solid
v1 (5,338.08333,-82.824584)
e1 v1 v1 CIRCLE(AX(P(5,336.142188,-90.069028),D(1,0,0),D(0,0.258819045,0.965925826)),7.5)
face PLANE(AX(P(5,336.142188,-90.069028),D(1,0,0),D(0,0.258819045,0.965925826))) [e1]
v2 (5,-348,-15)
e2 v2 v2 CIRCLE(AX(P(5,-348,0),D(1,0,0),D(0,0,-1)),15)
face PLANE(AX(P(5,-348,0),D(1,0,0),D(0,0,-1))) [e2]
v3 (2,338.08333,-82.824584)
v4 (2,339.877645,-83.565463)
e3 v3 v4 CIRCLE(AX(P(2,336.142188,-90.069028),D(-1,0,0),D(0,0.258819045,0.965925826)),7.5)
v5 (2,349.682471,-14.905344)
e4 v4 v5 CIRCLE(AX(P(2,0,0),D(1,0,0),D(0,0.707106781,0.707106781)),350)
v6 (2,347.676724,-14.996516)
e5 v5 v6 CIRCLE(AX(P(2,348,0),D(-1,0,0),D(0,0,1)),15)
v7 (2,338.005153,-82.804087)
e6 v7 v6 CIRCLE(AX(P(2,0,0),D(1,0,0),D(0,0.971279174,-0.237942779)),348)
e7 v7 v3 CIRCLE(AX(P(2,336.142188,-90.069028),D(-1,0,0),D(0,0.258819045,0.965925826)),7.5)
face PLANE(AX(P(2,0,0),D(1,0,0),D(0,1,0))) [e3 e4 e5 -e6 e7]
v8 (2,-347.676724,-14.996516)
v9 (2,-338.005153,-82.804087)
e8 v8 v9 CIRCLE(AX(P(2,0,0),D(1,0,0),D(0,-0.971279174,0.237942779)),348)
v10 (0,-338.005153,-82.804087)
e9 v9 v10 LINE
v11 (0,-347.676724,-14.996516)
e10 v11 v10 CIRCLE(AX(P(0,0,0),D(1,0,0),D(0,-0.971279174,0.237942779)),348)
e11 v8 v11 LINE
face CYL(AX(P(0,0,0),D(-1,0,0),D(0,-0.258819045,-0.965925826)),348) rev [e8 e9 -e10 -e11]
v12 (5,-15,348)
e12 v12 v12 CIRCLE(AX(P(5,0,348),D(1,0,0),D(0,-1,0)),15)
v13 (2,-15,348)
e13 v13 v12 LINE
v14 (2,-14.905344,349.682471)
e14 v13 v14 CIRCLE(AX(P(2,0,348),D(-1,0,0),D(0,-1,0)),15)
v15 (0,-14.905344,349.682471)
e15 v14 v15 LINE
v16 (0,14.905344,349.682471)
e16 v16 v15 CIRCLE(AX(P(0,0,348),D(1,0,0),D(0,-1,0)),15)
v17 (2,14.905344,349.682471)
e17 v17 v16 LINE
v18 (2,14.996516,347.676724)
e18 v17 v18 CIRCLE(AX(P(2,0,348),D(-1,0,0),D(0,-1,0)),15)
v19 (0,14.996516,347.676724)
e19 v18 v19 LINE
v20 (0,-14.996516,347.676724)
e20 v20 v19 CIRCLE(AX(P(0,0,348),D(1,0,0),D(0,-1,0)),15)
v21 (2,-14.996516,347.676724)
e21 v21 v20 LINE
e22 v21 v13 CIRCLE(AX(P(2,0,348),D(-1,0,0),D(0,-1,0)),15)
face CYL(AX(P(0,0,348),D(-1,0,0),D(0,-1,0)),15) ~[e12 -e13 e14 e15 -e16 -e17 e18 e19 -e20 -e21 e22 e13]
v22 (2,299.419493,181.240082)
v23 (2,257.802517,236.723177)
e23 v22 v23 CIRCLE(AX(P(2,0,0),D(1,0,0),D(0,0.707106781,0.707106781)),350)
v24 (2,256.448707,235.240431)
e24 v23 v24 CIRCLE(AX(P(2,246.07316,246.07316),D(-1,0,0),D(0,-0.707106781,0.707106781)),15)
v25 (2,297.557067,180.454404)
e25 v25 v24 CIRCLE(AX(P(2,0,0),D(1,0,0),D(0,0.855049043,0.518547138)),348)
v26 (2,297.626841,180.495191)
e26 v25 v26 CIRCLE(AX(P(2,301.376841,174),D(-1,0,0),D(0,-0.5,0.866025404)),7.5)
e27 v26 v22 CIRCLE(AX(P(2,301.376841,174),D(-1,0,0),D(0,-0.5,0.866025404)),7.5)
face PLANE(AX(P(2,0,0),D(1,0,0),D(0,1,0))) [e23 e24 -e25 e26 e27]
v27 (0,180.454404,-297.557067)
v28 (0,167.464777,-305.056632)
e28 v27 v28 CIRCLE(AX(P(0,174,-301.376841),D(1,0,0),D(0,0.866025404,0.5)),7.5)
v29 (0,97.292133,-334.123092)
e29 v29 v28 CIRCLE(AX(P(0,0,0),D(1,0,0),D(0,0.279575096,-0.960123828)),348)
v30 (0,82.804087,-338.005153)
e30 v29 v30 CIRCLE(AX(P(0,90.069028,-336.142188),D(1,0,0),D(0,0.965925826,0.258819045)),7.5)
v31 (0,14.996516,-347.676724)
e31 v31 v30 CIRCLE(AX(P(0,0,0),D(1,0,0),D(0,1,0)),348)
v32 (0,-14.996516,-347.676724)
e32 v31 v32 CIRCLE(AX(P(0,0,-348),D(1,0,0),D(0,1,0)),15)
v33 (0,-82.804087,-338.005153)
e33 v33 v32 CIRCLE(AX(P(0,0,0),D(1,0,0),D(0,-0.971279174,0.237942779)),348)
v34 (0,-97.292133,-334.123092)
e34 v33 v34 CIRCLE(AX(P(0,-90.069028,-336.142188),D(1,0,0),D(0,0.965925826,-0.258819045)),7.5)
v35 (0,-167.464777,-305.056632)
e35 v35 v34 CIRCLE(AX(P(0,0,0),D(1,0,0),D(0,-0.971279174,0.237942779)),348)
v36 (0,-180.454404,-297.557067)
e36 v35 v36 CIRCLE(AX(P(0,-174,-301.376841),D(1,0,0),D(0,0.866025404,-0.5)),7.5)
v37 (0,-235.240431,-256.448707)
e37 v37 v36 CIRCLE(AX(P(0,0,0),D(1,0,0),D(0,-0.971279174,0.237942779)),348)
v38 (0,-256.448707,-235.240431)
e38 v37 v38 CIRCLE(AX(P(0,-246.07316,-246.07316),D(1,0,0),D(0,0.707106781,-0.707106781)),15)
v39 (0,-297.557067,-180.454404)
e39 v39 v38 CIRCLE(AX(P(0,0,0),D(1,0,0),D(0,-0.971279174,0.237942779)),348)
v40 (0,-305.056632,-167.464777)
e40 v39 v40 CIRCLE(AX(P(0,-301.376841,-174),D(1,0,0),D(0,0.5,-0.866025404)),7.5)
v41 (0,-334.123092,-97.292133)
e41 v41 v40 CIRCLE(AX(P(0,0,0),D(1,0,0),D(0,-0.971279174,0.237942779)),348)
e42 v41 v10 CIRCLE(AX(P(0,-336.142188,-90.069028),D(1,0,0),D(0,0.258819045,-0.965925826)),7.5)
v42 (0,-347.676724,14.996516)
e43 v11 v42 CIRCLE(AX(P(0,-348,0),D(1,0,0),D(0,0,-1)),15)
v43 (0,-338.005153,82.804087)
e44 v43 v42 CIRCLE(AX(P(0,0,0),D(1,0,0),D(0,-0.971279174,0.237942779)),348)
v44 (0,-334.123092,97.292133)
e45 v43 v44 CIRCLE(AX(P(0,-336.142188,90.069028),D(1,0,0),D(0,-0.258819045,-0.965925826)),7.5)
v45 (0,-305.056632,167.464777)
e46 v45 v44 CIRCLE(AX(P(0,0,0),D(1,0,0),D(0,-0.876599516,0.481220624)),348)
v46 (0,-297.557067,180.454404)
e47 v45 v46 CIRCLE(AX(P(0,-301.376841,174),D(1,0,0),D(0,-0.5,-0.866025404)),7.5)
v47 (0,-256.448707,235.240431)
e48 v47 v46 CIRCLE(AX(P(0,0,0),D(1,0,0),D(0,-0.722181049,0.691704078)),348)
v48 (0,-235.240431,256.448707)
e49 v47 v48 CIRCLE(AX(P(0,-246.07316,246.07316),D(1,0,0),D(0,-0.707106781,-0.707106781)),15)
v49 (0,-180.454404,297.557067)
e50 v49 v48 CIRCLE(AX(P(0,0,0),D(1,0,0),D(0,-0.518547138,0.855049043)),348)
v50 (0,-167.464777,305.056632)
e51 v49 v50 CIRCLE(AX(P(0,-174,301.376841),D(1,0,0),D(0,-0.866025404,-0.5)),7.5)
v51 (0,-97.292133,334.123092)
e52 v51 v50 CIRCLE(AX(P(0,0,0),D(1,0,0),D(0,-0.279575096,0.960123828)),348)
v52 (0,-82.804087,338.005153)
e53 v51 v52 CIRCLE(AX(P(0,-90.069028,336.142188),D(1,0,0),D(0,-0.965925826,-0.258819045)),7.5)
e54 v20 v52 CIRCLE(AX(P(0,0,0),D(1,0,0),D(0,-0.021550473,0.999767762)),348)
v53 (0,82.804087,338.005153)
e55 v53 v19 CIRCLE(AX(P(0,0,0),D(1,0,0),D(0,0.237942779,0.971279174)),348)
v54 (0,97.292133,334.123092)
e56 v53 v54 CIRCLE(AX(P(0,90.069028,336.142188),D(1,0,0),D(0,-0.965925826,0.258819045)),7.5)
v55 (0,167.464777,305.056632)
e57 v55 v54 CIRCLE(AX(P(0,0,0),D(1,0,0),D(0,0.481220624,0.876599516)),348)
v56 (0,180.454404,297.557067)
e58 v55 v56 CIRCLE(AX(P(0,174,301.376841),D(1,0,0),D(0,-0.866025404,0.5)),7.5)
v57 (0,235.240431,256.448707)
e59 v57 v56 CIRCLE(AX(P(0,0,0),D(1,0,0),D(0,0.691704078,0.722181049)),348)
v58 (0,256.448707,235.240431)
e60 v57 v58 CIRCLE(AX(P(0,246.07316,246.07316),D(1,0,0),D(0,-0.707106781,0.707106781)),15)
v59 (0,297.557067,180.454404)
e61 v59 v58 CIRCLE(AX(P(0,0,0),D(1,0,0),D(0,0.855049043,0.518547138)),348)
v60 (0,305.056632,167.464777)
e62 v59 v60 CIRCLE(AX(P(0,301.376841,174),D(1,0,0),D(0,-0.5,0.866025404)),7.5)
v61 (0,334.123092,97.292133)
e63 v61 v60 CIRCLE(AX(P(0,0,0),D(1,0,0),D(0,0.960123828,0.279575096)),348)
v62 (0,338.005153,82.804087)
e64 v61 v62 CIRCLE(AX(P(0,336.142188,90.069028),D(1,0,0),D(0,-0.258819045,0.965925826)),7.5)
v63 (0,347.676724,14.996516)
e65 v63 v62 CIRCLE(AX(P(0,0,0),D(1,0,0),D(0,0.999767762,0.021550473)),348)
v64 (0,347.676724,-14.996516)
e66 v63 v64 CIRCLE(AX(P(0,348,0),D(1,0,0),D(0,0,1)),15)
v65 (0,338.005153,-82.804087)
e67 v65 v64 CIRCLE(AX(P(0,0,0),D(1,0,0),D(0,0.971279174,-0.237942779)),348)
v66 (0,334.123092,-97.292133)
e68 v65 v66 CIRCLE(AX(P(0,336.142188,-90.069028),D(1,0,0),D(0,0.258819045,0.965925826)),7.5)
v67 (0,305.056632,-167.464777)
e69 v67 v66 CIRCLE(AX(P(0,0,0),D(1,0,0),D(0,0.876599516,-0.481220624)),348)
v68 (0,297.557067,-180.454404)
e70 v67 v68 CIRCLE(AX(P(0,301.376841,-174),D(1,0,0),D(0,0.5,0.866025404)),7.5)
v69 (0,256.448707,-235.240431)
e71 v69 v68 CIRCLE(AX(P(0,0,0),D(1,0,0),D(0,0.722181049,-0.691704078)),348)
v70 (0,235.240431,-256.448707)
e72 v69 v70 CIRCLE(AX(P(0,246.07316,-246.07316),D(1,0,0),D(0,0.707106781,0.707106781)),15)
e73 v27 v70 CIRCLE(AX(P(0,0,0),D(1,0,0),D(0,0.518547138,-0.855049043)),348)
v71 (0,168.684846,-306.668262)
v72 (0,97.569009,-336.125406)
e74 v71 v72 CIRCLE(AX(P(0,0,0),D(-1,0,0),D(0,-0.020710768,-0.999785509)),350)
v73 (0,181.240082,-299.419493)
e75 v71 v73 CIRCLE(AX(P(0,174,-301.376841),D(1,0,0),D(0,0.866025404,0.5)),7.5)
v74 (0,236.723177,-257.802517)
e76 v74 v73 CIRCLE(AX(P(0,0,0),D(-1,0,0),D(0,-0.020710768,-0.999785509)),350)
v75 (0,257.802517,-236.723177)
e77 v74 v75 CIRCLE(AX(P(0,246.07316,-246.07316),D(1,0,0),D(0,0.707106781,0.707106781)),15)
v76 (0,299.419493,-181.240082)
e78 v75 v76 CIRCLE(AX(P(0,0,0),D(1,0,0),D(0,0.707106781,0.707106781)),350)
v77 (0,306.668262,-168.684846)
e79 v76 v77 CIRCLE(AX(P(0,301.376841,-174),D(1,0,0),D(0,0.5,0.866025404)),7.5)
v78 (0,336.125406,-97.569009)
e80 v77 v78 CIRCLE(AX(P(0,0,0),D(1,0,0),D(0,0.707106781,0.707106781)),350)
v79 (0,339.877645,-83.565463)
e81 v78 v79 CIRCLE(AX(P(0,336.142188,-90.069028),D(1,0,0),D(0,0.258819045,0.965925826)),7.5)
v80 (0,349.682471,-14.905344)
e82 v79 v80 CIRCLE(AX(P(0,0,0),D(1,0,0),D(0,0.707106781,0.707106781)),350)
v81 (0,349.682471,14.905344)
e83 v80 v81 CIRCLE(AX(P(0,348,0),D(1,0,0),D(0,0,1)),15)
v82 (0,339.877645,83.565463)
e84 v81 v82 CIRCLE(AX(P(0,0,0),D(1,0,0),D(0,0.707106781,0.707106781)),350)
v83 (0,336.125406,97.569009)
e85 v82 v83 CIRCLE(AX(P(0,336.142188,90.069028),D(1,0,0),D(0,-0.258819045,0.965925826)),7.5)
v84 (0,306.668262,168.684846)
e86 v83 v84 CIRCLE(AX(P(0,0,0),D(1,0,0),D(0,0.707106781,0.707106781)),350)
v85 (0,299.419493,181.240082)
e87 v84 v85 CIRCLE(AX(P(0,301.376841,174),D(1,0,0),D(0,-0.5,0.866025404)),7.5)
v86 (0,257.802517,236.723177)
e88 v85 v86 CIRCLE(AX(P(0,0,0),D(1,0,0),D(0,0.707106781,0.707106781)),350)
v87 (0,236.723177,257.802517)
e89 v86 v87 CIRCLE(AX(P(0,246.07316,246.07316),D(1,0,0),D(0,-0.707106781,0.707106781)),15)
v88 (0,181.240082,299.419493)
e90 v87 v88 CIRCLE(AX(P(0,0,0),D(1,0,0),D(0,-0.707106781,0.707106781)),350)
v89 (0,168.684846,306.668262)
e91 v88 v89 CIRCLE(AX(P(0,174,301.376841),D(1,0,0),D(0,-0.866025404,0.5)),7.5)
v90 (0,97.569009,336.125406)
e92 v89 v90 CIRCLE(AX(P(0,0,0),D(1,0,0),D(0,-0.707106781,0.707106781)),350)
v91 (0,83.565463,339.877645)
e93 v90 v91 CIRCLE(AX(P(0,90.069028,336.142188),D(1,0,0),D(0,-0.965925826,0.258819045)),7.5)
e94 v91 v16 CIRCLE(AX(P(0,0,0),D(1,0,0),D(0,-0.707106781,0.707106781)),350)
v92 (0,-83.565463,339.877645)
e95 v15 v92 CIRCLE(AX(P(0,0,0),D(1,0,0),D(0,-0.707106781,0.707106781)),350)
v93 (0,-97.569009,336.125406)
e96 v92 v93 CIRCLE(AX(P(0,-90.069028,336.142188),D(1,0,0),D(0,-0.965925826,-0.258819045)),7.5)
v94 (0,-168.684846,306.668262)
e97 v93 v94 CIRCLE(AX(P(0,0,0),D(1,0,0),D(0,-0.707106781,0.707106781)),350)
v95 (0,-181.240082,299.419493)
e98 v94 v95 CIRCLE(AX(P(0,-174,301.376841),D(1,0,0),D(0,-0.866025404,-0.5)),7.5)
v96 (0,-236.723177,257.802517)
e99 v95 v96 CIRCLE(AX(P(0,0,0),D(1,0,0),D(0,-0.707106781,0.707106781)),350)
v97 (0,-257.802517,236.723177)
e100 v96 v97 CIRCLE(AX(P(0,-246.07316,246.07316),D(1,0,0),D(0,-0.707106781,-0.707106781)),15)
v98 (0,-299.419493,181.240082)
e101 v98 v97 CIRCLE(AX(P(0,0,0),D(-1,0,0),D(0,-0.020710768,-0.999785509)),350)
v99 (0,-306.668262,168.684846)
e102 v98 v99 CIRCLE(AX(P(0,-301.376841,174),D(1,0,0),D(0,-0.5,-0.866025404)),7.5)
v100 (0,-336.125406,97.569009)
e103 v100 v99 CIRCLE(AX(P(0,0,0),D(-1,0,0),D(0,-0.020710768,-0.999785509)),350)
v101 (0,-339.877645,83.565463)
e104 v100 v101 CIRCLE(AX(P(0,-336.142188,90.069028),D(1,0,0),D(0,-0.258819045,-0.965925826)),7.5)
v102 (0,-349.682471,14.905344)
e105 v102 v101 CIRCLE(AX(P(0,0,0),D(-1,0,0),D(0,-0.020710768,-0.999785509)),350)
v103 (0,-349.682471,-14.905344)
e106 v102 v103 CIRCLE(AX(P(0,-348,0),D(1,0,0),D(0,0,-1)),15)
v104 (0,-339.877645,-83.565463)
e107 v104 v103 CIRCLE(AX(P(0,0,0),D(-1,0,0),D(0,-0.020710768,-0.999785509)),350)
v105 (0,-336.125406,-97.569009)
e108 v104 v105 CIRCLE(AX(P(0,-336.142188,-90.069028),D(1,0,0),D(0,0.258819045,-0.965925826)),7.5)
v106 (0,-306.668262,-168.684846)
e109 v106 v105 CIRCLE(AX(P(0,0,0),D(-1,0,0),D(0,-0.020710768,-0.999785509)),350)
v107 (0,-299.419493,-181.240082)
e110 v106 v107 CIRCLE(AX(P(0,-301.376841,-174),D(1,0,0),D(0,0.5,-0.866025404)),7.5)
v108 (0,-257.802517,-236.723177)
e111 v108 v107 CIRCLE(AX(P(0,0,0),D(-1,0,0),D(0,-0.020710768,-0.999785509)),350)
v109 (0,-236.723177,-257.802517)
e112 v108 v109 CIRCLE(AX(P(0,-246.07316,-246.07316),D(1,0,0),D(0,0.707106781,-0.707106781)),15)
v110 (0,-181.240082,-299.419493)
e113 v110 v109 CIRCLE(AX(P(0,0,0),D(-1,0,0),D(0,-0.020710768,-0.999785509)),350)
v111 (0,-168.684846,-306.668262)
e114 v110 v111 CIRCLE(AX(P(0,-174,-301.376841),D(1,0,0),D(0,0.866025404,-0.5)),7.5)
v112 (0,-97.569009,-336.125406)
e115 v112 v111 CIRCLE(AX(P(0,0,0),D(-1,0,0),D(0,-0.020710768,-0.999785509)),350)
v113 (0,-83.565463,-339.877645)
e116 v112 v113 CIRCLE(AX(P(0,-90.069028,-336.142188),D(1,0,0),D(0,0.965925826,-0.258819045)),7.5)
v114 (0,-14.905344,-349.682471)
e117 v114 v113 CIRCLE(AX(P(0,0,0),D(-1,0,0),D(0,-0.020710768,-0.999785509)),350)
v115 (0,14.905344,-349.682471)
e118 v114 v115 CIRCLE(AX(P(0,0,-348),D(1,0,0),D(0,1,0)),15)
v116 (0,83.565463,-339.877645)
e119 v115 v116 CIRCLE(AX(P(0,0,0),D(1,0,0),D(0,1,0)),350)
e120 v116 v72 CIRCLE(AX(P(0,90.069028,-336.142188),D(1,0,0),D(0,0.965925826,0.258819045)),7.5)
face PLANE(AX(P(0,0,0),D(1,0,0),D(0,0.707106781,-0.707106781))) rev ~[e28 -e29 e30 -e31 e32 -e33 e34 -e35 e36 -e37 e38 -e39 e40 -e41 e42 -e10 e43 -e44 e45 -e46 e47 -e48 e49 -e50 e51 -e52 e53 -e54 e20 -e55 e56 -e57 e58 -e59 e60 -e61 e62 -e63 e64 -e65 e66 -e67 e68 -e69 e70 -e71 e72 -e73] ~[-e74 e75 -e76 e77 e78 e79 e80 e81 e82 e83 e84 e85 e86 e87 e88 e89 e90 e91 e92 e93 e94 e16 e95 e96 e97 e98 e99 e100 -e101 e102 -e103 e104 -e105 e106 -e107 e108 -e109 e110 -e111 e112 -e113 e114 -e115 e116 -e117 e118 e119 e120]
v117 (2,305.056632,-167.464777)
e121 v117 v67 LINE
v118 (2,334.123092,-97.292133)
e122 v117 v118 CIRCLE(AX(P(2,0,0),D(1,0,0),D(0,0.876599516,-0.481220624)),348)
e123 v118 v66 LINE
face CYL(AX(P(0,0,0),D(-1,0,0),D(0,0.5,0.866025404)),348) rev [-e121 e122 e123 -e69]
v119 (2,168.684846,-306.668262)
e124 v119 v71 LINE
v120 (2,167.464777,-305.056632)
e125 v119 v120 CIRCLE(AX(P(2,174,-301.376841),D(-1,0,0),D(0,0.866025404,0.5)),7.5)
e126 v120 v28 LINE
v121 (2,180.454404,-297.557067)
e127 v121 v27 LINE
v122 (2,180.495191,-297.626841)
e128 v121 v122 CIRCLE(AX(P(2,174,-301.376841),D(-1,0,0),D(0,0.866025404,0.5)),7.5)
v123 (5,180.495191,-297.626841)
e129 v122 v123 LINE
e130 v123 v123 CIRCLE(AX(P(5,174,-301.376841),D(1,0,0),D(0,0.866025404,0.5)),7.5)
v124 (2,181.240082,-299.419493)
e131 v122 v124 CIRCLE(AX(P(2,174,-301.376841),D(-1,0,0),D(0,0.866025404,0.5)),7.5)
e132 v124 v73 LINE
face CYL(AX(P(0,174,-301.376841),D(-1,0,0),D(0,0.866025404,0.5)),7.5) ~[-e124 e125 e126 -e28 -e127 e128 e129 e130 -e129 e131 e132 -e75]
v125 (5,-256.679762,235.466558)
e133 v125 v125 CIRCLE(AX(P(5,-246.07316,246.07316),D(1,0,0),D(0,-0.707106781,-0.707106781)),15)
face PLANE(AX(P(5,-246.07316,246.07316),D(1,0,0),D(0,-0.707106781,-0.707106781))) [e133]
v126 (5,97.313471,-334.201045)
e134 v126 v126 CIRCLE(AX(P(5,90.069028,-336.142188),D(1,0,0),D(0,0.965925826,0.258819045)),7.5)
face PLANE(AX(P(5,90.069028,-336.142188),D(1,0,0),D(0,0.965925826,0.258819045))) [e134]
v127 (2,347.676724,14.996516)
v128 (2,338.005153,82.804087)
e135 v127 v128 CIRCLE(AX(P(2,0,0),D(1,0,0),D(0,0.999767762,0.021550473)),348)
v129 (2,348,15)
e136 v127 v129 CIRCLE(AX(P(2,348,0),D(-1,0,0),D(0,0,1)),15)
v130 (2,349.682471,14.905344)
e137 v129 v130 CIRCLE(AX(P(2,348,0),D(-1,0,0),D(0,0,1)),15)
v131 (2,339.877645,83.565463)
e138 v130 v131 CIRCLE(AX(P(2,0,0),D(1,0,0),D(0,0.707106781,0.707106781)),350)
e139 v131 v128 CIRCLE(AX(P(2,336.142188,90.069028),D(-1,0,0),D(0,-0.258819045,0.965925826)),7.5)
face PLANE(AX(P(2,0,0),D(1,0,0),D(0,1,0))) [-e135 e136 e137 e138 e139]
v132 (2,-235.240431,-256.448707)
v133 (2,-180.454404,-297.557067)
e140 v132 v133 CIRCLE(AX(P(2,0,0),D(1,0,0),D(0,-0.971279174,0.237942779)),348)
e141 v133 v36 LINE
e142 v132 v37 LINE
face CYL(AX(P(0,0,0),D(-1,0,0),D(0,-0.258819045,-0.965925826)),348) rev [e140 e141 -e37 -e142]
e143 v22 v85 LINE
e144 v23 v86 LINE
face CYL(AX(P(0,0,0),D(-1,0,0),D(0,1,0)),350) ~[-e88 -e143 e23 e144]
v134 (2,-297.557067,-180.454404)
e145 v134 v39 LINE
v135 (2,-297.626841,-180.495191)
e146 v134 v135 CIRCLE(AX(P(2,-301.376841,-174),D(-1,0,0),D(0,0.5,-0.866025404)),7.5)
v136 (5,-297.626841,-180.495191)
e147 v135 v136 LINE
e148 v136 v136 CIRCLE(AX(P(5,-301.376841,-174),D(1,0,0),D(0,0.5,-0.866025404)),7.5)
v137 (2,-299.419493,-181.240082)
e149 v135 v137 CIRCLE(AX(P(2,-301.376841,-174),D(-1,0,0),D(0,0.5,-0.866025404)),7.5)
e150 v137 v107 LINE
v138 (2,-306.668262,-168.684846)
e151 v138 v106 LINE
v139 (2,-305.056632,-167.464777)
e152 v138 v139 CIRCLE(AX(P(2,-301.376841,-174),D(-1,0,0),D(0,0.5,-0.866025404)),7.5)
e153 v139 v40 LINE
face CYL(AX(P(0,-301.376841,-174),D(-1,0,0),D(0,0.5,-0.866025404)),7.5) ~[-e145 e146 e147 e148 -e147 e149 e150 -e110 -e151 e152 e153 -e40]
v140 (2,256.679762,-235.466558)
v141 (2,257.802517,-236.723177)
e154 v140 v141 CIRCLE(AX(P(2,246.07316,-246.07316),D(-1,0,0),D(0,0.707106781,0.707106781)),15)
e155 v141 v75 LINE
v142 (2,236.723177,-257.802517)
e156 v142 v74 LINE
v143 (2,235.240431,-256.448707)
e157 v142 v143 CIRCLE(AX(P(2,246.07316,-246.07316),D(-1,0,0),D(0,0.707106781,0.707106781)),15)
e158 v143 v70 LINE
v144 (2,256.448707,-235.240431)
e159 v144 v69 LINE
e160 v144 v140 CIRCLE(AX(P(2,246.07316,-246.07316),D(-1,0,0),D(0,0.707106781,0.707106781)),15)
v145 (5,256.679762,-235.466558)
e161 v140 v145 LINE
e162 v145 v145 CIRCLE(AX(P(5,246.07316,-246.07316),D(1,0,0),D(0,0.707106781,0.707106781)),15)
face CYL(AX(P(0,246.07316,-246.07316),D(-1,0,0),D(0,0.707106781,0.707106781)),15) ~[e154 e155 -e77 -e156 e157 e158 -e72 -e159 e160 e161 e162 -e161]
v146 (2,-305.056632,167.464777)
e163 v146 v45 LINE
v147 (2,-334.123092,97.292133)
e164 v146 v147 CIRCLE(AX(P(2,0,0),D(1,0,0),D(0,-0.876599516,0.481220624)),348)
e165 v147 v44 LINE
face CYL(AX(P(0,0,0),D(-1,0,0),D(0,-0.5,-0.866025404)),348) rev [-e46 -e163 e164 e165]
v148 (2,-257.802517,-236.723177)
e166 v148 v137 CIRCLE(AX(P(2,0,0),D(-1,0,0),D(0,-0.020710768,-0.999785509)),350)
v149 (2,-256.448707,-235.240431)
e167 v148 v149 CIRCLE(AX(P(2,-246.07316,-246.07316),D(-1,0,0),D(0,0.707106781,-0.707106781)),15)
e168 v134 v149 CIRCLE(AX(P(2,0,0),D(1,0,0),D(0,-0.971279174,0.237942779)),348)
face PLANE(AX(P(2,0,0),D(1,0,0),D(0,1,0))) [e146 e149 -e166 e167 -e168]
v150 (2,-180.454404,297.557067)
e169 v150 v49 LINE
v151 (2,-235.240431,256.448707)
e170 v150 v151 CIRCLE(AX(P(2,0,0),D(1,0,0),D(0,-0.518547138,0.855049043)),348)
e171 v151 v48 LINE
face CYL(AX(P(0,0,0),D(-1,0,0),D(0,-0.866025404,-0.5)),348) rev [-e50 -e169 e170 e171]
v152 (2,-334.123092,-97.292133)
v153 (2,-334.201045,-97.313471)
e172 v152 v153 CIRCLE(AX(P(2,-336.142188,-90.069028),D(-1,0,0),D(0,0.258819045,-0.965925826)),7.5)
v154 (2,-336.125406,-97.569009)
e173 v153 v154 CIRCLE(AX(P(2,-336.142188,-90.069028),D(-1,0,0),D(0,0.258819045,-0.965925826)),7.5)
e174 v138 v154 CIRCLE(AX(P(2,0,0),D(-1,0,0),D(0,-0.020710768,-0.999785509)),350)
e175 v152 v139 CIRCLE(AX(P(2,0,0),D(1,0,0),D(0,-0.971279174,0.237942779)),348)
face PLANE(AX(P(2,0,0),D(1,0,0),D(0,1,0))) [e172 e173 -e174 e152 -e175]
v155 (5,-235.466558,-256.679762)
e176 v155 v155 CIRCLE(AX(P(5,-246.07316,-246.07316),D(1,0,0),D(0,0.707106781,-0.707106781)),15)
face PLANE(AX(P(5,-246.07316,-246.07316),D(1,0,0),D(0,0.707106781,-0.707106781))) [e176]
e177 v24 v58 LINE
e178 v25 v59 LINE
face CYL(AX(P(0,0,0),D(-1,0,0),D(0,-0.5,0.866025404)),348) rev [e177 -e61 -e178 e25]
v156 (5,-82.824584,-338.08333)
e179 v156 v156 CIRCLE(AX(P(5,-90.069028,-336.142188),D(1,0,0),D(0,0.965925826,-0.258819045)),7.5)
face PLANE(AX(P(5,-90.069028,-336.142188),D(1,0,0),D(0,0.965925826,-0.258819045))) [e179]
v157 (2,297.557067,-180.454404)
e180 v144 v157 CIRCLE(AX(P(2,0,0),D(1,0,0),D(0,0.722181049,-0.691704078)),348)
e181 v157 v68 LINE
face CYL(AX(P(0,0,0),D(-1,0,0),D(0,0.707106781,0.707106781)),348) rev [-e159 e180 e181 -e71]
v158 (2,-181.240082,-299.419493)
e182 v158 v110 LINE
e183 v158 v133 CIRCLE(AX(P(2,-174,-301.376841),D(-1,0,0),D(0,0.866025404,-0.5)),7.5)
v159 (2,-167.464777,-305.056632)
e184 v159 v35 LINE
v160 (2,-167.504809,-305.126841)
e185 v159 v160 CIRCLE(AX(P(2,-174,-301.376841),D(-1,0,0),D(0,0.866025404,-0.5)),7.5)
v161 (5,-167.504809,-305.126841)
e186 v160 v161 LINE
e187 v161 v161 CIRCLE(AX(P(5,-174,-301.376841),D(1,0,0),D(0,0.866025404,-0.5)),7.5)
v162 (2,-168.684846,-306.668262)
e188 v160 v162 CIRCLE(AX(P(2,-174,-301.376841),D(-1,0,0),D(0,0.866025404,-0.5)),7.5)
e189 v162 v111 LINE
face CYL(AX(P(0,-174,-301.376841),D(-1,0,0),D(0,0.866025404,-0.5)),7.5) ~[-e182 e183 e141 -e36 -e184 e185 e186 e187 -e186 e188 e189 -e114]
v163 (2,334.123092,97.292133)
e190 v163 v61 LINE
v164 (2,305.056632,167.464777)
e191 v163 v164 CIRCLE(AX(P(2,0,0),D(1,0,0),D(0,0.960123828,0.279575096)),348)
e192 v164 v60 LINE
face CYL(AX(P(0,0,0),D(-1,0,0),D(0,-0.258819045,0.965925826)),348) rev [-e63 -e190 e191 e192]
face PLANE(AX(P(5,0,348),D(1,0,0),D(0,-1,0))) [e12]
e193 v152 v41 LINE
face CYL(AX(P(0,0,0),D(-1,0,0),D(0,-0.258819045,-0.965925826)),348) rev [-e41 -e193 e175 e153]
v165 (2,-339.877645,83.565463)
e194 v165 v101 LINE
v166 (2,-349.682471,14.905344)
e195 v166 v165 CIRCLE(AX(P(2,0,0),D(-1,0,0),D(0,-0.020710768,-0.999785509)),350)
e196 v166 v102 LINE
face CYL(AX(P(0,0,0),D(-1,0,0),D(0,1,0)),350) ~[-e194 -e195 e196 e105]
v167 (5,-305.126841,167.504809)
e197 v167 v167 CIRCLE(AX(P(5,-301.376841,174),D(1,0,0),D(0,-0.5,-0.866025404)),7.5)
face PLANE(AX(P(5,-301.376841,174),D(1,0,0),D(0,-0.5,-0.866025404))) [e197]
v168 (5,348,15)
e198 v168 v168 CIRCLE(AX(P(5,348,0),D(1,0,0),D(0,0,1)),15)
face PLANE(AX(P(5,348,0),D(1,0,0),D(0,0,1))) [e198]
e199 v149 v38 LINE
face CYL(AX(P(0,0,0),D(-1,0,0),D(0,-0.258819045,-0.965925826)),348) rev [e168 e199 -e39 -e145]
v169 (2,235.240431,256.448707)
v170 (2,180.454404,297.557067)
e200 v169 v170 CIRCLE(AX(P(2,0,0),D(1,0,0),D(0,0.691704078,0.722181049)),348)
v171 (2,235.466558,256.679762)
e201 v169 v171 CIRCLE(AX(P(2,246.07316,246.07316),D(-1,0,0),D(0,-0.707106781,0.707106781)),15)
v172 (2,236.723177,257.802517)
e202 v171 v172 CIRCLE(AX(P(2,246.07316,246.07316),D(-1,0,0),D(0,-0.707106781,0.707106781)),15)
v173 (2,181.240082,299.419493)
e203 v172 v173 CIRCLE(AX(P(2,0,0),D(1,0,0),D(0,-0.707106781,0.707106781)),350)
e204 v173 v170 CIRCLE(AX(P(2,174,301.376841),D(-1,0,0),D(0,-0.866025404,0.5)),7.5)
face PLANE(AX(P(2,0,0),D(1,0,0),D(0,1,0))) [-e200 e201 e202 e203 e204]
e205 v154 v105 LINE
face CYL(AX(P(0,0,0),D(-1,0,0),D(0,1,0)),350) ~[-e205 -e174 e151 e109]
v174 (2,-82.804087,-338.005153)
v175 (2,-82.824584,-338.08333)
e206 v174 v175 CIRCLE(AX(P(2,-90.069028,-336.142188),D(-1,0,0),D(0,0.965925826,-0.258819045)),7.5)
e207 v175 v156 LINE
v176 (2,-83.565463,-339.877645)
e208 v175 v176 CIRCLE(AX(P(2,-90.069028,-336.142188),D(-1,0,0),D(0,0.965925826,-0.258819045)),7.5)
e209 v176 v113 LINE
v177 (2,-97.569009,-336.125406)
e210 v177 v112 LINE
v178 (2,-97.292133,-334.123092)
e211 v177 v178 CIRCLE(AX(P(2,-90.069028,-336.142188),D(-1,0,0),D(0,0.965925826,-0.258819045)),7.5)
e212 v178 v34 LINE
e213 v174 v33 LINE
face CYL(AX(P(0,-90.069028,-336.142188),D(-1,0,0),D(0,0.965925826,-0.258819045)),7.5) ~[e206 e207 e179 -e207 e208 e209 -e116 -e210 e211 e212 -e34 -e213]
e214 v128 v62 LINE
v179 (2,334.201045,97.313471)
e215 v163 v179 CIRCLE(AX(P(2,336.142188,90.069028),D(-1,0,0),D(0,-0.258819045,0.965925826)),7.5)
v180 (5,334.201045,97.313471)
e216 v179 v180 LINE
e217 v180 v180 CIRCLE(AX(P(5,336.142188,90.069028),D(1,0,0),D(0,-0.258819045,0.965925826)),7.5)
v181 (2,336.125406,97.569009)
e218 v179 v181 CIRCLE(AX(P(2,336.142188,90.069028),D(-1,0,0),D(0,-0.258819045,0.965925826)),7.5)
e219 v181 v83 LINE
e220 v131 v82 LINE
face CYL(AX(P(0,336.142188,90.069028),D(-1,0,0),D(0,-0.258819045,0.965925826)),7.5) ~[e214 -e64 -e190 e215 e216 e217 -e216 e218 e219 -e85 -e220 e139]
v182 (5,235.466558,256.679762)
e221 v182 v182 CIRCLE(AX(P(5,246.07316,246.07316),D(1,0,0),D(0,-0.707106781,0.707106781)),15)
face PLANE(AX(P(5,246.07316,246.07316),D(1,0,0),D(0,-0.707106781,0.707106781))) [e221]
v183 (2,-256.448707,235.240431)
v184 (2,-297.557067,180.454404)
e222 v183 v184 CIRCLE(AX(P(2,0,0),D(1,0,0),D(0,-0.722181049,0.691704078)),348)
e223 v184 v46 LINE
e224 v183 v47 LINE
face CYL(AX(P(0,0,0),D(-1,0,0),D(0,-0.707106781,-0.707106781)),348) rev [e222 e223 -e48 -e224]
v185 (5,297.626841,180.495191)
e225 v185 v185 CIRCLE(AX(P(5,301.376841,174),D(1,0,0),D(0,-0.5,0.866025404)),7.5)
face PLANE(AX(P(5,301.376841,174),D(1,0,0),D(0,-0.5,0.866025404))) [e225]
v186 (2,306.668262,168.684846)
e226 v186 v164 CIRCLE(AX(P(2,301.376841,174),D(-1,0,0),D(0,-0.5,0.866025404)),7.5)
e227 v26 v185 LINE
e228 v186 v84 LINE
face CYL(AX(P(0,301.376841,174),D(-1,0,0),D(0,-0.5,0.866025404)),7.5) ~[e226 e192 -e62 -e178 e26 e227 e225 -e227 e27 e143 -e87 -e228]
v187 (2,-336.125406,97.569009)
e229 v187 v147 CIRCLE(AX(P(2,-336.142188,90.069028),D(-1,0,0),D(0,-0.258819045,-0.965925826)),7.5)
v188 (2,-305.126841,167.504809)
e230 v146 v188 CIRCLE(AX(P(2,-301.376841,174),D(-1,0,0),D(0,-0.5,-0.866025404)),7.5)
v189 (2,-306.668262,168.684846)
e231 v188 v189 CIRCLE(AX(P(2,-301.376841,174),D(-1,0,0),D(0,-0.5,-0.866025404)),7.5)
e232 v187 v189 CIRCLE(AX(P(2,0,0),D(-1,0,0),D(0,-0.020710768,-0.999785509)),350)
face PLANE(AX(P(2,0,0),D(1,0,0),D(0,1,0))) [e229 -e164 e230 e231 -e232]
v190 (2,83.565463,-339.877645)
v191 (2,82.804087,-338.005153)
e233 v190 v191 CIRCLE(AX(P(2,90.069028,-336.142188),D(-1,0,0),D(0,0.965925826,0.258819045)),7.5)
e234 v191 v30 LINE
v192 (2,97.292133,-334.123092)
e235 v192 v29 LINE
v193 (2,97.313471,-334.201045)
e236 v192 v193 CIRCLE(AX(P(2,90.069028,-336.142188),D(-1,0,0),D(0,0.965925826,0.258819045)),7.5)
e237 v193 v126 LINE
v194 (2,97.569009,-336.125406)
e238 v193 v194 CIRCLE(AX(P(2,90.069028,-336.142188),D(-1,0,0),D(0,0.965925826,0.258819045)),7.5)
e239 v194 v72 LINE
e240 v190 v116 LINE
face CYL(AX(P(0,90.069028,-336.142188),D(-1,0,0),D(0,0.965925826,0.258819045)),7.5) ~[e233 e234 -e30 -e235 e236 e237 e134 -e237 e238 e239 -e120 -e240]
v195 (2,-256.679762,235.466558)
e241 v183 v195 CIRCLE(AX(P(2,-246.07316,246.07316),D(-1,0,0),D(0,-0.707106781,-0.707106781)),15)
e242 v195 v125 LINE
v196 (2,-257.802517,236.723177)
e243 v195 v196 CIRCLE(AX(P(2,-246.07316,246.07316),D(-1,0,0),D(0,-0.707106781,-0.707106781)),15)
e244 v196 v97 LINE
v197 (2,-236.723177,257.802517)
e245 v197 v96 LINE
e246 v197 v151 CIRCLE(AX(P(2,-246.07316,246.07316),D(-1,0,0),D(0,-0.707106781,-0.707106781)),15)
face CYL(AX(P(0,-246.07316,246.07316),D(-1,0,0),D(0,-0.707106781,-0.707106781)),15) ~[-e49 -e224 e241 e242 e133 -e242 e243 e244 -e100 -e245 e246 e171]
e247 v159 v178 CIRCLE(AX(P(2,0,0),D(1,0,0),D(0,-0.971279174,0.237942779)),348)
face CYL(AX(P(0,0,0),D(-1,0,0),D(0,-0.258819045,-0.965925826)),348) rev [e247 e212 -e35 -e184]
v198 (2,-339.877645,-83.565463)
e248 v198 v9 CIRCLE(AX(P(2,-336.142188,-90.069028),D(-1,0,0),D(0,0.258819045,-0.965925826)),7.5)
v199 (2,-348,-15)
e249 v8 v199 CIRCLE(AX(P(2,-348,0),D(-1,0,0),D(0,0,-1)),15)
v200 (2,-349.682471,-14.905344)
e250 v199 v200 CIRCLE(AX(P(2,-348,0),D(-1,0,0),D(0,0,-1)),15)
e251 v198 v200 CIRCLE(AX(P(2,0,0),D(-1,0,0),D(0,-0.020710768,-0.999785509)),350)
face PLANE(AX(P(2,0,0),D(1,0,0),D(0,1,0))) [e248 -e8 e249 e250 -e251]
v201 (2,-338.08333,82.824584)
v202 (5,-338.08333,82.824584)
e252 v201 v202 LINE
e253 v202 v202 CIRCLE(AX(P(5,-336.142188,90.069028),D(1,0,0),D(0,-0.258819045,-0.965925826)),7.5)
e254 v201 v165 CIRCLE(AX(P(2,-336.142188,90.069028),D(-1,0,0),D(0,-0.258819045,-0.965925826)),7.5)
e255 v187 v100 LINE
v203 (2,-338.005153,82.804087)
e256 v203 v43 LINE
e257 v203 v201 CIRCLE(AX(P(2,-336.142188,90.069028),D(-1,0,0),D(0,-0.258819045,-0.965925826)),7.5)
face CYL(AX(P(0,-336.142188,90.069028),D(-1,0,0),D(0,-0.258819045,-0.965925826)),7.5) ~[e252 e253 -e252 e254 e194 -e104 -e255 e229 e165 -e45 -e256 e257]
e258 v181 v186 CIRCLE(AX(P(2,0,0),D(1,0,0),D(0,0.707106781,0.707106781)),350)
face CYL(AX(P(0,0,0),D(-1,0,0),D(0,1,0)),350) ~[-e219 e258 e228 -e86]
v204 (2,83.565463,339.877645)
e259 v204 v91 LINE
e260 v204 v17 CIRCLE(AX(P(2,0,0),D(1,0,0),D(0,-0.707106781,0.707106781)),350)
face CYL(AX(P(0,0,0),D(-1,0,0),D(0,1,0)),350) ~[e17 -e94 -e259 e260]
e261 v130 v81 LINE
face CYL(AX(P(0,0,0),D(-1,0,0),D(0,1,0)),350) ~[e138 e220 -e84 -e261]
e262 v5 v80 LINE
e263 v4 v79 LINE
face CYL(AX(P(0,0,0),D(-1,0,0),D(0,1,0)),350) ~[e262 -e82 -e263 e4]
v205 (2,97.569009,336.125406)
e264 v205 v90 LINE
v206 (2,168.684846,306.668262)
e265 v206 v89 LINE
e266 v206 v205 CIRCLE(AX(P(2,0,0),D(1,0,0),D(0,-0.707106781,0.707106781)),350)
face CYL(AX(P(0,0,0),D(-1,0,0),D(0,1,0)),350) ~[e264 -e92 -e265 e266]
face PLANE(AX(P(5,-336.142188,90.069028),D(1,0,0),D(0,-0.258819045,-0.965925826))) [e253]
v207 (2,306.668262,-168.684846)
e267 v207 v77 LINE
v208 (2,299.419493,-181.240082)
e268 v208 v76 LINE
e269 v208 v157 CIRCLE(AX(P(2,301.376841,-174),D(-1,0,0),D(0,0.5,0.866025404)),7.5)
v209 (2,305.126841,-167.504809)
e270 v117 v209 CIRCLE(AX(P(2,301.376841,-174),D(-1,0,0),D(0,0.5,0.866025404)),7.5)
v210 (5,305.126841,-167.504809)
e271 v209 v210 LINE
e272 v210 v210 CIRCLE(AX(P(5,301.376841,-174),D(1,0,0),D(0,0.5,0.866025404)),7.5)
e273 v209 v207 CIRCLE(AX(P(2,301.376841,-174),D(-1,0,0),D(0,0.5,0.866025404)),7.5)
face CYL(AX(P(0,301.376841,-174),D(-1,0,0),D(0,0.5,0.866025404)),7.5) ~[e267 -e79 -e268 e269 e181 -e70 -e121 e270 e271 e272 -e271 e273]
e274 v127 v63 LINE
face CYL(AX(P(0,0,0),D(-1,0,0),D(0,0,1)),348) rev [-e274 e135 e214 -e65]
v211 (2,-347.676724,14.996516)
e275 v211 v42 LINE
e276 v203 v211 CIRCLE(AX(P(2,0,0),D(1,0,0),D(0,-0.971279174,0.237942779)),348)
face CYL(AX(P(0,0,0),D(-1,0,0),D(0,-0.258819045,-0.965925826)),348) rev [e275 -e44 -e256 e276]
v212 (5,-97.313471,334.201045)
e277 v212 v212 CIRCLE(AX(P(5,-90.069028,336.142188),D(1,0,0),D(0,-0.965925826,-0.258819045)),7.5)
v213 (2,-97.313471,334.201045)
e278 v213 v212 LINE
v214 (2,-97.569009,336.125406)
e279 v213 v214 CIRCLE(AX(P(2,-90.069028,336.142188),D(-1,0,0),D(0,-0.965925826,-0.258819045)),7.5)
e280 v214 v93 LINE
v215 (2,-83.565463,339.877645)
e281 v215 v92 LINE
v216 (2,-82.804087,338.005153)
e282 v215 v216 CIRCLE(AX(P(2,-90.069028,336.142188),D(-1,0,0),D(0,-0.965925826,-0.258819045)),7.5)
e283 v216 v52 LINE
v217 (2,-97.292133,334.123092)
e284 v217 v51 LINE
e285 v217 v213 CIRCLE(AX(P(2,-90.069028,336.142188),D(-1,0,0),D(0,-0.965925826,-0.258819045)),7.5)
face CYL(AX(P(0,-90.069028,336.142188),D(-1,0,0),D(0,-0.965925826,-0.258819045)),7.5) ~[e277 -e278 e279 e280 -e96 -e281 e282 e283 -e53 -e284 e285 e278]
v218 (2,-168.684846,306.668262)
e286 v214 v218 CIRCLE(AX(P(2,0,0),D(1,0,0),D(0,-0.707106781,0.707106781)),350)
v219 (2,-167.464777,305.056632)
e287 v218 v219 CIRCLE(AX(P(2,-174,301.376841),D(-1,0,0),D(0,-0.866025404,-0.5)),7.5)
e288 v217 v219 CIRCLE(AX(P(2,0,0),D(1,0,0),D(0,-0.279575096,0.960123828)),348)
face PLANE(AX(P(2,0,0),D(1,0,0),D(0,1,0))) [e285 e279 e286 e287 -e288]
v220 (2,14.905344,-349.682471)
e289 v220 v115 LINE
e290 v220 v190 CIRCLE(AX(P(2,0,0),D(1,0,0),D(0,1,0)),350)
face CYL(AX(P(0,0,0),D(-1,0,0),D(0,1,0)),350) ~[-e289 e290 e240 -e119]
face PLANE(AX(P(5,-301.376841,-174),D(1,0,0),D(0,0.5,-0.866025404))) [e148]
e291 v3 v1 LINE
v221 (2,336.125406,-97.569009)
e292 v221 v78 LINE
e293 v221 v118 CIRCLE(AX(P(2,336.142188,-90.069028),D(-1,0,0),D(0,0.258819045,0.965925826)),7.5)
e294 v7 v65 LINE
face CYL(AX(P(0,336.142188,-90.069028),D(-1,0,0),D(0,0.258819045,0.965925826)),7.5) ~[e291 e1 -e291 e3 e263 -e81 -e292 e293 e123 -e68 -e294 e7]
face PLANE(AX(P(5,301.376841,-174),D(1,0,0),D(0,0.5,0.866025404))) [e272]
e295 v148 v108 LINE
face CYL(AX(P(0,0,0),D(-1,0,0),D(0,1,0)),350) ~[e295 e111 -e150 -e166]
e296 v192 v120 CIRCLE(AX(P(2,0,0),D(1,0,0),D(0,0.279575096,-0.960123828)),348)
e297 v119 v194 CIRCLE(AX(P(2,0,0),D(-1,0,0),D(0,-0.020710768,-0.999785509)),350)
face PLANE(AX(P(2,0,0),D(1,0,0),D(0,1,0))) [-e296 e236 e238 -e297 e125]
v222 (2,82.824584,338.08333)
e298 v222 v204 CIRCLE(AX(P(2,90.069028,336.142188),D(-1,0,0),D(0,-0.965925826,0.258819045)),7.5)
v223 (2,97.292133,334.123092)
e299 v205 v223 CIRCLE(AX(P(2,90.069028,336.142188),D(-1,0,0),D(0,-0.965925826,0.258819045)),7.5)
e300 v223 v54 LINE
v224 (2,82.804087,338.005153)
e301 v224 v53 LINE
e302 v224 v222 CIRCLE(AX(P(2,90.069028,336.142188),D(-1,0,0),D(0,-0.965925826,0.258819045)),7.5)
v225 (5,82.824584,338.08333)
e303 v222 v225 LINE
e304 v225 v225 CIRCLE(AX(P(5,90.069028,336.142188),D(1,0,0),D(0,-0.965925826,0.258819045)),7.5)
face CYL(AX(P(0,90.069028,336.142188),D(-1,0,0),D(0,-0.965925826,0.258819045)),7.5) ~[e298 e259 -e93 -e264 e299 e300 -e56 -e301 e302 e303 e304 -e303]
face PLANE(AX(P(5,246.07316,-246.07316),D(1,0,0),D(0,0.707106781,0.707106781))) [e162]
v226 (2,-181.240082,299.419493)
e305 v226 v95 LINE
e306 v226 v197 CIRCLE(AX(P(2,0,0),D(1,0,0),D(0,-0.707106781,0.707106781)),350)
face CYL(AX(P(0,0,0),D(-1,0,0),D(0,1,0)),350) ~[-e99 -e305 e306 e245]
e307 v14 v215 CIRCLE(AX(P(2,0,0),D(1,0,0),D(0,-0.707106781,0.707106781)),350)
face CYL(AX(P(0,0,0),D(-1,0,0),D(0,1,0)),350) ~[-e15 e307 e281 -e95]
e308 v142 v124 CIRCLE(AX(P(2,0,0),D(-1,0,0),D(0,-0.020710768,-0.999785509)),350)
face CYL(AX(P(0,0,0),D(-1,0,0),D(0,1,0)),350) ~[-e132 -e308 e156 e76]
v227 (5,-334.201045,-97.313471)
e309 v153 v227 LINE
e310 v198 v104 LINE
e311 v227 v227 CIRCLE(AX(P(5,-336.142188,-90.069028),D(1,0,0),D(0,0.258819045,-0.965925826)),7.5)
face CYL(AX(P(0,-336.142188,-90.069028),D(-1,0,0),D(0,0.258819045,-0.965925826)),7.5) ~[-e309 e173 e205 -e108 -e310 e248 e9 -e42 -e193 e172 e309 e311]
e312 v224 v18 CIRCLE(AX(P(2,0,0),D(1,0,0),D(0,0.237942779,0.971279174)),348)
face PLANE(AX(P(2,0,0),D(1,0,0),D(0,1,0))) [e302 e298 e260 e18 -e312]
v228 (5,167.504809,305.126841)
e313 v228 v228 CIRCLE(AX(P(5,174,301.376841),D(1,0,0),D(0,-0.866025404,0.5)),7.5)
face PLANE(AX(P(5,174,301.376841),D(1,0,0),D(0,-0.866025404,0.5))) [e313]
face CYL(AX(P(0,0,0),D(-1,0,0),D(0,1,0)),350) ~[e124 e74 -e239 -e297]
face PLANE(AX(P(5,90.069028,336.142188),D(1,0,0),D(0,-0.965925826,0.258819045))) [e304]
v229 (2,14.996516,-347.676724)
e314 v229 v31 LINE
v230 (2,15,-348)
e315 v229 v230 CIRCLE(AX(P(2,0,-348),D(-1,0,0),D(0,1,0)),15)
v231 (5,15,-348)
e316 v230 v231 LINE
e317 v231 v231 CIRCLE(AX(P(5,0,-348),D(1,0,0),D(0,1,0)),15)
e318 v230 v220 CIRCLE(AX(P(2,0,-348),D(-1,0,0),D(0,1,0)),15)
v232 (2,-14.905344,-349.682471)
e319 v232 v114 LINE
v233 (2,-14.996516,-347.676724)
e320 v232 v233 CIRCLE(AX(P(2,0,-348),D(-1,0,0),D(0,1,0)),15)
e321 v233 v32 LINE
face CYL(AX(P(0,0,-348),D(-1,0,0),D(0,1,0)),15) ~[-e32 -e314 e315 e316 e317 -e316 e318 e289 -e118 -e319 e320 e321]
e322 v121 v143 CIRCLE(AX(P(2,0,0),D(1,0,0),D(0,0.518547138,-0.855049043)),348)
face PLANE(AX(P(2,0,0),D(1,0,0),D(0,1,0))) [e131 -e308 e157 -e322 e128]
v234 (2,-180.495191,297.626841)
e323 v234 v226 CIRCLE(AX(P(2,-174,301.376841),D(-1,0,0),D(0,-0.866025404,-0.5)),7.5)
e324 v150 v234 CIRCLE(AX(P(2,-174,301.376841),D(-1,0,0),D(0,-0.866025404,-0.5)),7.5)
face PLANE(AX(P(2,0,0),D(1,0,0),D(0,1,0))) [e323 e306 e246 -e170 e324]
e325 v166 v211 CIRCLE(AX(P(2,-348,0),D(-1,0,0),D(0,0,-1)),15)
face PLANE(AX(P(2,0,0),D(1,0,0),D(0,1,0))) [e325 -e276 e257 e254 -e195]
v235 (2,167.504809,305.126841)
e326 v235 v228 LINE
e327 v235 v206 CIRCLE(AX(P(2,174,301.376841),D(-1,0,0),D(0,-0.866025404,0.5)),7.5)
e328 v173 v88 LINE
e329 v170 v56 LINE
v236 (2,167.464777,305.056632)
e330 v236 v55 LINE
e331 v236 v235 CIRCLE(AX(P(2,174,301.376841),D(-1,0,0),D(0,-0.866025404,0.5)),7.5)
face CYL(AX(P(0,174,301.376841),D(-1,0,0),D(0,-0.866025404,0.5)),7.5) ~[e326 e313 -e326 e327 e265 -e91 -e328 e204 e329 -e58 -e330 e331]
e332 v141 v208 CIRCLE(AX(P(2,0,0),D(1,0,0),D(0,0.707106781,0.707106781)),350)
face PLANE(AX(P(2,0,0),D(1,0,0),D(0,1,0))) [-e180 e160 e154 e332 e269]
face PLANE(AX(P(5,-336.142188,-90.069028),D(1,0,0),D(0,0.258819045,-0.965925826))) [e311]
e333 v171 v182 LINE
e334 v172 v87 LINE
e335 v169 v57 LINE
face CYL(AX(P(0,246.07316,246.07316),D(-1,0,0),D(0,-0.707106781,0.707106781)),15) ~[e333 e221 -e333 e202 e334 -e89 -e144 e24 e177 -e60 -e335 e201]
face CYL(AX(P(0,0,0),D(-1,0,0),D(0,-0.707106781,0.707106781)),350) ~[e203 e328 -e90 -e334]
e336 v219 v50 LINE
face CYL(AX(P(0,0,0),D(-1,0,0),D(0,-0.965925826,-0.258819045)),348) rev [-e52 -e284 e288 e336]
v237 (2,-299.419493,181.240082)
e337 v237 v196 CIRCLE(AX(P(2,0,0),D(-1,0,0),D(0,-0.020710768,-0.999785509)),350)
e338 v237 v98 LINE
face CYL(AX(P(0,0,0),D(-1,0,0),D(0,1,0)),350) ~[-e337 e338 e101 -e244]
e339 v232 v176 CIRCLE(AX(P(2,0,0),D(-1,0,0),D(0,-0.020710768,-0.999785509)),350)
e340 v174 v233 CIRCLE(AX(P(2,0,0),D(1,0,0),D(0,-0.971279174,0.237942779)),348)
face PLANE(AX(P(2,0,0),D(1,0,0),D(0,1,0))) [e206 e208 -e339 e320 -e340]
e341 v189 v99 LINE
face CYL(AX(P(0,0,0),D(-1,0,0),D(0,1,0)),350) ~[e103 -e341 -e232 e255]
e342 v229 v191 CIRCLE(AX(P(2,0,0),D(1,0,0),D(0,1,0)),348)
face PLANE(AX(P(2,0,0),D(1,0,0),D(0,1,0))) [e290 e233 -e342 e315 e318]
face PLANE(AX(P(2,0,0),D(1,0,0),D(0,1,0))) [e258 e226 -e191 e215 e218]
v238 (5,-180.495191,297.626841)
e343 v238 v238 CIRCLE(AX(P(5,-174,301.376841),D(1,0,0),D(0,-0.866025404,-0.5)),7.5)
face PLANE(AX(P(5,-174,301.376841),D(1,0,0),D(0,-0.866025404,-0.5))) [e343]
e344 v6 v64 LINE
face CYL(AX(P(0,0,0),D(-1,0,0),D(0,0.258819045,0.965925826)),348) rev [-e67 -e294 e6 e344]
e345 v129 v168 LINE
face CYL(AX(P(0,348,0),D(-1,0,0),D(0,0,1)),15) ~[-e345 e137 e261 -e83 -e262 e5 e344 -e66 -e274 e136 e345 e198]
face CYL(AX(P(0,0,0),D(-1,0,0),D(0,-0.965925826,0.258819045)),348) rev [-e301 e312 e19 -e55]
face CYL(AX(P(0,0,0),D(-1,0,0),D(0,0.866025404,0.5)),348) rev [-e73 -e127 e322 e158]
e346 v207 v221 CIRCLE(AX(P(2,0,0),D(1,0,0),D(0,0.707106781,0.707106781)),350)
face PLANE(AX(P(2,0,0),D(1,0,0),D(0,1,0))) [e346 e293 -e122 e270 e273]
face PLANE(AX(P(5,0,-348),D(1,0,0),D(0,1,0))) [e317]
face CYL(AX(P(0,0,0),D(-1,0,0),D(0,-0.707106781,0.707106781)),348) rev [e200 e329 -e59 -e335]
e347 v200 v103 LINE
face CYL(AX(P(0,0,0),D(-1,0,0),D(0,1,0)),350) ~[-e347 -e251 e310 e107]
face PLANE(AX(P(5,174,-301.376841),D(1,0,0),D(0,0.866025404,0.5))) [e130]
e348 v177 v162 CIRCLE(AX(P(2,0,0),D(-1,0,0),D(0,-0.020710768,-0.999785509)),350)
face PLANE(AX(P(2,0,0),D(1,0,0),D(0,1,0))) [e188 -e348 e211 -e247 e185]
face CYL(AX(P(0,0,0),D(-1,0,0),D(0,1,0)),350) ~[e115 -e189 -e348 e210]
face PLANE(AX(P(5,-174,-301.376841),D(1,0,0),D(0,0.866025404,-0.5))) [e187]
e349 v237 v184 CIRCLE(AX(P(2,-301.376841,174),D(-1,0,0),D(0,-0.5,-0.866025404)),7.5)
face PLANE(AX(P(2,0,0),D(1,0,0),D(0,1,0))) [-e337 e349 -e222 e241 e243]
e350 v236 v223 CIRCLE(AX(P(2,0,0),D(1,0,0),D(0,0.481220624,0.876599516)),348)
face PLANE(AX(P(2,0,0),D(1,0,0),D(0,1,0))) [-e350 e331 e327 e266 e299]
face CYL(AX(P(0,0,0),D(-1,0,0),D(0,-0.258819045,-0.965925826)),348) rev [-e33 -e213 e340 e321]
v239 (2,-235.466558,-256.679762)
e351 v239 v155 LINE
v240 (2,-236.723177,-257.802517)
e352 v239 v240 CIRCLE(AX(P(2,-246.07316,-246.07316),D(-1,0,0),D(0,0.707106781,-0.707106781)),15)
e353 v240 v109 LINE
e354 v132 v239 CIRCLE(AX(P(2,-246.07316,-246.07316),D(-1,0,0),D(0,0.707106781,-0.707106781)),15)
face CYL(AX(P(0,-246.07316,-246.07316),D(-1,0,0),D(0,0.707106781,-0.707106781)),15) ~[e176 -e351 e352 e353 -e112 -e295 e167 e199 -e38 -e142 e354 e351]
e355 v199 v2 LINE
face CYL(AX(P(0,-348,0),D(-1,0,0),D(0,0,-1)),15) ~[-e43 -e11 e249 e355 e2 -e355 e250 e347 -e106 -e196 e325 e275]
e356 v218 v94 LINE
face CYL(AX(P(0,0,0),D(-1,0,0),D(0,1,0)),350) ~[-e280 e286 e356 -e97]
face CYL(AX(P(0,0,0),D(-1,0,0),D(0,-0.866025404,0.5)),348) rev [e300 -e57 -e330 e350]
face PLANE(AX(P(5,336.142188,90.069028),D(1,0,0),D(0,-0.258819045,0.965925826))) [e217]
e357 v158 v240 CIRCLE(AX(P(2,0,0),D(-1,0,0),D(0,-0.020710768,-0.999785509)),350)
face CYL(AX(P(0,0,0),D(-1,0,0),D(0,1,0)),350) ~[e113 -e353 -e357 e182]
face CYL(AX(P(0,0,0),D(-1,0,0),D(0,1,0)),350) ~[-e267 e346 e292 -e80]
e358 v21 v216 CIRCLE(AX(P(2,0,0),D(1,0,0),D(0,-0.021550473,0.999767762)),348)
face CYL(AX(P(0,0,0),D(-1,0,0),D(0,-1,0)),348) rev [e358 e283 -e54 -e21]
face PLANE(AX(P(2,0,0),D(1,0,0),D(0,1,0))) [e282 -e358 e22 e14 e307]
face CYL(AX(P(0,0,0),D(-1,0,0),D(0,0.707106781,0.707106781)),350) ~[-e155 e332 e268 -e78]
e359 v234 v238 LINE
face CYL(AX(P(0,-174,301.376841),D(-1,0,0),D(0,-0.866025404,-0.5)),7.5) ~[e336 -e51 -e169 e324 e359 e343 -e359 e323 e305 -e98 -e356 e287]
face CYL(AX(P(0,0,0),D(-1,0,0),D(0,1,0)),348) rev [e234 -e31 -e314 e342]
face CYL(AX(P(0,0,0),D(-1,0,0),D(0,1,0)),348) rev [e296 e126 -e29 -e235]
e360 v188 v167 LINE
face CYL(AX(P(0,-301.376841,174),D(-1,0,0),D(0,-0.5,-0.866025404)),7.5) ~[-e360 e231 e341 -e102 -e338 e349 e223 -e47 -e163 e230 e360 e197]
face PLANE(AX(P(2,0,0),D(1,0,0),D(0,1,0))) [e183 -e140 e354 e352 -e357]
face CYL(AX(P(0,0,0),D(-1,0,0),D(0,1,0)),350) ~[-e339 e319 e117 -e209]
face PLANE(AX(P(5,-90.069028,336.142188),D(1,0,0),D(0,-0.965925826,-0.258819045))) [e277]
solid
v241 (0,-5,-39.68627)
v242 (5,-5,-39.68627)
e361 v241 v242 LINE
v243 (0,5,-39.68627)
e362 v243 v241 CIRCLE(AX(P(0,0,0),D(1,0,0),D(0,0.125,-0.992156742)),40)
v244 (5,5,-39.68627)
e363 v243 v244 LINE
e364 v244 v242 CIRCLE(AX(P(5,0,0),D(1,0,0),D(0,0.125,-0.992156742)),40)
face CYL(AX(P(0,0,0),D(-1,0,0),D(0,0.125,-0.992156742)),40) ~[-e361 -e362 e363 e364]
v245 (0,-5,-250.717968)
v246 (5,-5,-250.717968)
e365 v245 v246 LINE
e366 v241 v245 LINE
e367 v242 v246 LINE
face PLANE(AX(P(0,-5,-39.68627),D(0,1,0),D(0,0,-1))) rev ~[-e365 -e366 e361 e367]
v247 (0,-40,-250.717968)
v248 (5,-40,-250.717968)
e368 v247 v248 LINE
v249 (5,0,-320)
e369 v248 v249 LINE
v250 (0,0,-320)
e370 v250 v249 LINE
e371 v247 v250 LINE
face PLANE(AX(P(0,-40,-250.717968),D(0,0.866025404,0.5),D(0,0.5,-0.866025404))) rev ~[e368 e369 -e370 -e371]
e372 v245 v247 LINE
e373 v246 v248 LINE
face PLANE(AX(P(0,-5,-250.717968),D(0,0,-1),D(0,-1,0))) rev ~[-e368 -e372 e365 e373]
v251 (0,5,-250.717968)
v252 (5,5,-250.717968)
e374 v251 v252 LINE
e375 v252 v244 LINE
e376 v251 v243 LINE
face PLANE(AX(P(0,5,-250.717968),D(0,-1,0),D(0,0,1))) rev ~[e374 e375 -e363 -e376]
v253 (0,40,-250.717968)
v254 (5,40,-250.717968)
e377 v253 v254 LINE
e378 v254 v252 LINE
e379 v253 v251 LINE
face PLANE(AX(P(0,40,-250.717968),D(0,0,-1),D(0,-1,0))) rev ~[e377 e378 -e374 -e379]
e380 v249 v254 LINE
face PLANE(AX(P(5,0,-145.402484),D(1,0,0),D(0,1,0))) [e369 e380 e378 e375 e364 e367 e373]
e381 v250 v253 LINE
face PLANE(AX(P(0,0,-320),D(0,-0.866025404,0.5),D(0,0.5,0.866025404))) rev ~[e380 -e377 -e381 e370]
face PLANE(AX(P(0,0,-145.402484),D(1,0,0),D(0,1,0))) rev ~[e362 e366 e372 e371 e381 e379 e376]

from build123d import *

# Parameters (mm, degrees)
F1_R      = 350
F1_R_2    = 348
F2_DEPTH  = 2
F3_R      = 7.5
F4_DEPTH  = 5
F5_COUNT  = 24
F6_R      = 15
F7_DEPTH  = 5
F8_COUNT  = 8
F10_DEPTH = 5


with BuildPart() as f2:
    # F1 (on Right) → F2 (new body)
    with BuildSketch(Plane.YZ):
        Circle(F1_R)
        Circle(F1_R_2, mode=Mode.SUBTRACT)
    extrude(amount=F2_DEPTH)

    # F3 (on Right) → F4 (join)
    with BuildSketch(Plane.YZ):
        with Locations((0, -348)):
            Circle(F3_R)
    extrude(amount=F4_DEPTH)

    # F5: F2 ×24 about axis
    f5_axis = Axis((157.9636344686, 0, 0), (1, 0, 0))


with BuildPart() as f2_1:
    add(f2.part)
    for i in range(1, F5_COUNT):
        add(f2.part.rotate(f5_axis, i * 360 / F5_COUNT))

    # F6 (on Right) → F7 (join)
    with BuildSketch(Plane.YZ):
        with Locations((0, -348)):
            Circle(F6_R)
    extrude(amount=F7_DEPTH)

    # F8: F2 ×8 about axis
    f8_axis = Axis((157.9636344686, 0, 0), (1, 0, 0))


with BuildPart() as f2_2:
    add(f2_1.part)
    for i in range(1, F8_COUNT):
        add(f2_1.part.rotate(f8_axis, i * 360 / F8_COUNT))


with BuildPart() as f10:
    # F9 (on Right) → F10 (new body)
    with BuildSketch(Plane.YZ):
        with BuildLine():
            Line((5, -250.7179676972), (5, -39.686269666))
            ThreePointArc((5, -39.686269666), (0, 40), (-5, -39.686269666))
            Line((-5, -39.686269666), (-5, -250.7179676972))
            Line((-5, -250.7179676972), (-40, -250.7179676972))
            Line((-40, -250.7179676972), (0, -320))
            Line((0, -320), (40, -250.7179676972))
            Line((40, -250.7179676972), (5, -250.7179676972))
        make_face()
    extrude(amount=F10_DEPTH)


solid = Compound([f2_2.part, f10.part])
